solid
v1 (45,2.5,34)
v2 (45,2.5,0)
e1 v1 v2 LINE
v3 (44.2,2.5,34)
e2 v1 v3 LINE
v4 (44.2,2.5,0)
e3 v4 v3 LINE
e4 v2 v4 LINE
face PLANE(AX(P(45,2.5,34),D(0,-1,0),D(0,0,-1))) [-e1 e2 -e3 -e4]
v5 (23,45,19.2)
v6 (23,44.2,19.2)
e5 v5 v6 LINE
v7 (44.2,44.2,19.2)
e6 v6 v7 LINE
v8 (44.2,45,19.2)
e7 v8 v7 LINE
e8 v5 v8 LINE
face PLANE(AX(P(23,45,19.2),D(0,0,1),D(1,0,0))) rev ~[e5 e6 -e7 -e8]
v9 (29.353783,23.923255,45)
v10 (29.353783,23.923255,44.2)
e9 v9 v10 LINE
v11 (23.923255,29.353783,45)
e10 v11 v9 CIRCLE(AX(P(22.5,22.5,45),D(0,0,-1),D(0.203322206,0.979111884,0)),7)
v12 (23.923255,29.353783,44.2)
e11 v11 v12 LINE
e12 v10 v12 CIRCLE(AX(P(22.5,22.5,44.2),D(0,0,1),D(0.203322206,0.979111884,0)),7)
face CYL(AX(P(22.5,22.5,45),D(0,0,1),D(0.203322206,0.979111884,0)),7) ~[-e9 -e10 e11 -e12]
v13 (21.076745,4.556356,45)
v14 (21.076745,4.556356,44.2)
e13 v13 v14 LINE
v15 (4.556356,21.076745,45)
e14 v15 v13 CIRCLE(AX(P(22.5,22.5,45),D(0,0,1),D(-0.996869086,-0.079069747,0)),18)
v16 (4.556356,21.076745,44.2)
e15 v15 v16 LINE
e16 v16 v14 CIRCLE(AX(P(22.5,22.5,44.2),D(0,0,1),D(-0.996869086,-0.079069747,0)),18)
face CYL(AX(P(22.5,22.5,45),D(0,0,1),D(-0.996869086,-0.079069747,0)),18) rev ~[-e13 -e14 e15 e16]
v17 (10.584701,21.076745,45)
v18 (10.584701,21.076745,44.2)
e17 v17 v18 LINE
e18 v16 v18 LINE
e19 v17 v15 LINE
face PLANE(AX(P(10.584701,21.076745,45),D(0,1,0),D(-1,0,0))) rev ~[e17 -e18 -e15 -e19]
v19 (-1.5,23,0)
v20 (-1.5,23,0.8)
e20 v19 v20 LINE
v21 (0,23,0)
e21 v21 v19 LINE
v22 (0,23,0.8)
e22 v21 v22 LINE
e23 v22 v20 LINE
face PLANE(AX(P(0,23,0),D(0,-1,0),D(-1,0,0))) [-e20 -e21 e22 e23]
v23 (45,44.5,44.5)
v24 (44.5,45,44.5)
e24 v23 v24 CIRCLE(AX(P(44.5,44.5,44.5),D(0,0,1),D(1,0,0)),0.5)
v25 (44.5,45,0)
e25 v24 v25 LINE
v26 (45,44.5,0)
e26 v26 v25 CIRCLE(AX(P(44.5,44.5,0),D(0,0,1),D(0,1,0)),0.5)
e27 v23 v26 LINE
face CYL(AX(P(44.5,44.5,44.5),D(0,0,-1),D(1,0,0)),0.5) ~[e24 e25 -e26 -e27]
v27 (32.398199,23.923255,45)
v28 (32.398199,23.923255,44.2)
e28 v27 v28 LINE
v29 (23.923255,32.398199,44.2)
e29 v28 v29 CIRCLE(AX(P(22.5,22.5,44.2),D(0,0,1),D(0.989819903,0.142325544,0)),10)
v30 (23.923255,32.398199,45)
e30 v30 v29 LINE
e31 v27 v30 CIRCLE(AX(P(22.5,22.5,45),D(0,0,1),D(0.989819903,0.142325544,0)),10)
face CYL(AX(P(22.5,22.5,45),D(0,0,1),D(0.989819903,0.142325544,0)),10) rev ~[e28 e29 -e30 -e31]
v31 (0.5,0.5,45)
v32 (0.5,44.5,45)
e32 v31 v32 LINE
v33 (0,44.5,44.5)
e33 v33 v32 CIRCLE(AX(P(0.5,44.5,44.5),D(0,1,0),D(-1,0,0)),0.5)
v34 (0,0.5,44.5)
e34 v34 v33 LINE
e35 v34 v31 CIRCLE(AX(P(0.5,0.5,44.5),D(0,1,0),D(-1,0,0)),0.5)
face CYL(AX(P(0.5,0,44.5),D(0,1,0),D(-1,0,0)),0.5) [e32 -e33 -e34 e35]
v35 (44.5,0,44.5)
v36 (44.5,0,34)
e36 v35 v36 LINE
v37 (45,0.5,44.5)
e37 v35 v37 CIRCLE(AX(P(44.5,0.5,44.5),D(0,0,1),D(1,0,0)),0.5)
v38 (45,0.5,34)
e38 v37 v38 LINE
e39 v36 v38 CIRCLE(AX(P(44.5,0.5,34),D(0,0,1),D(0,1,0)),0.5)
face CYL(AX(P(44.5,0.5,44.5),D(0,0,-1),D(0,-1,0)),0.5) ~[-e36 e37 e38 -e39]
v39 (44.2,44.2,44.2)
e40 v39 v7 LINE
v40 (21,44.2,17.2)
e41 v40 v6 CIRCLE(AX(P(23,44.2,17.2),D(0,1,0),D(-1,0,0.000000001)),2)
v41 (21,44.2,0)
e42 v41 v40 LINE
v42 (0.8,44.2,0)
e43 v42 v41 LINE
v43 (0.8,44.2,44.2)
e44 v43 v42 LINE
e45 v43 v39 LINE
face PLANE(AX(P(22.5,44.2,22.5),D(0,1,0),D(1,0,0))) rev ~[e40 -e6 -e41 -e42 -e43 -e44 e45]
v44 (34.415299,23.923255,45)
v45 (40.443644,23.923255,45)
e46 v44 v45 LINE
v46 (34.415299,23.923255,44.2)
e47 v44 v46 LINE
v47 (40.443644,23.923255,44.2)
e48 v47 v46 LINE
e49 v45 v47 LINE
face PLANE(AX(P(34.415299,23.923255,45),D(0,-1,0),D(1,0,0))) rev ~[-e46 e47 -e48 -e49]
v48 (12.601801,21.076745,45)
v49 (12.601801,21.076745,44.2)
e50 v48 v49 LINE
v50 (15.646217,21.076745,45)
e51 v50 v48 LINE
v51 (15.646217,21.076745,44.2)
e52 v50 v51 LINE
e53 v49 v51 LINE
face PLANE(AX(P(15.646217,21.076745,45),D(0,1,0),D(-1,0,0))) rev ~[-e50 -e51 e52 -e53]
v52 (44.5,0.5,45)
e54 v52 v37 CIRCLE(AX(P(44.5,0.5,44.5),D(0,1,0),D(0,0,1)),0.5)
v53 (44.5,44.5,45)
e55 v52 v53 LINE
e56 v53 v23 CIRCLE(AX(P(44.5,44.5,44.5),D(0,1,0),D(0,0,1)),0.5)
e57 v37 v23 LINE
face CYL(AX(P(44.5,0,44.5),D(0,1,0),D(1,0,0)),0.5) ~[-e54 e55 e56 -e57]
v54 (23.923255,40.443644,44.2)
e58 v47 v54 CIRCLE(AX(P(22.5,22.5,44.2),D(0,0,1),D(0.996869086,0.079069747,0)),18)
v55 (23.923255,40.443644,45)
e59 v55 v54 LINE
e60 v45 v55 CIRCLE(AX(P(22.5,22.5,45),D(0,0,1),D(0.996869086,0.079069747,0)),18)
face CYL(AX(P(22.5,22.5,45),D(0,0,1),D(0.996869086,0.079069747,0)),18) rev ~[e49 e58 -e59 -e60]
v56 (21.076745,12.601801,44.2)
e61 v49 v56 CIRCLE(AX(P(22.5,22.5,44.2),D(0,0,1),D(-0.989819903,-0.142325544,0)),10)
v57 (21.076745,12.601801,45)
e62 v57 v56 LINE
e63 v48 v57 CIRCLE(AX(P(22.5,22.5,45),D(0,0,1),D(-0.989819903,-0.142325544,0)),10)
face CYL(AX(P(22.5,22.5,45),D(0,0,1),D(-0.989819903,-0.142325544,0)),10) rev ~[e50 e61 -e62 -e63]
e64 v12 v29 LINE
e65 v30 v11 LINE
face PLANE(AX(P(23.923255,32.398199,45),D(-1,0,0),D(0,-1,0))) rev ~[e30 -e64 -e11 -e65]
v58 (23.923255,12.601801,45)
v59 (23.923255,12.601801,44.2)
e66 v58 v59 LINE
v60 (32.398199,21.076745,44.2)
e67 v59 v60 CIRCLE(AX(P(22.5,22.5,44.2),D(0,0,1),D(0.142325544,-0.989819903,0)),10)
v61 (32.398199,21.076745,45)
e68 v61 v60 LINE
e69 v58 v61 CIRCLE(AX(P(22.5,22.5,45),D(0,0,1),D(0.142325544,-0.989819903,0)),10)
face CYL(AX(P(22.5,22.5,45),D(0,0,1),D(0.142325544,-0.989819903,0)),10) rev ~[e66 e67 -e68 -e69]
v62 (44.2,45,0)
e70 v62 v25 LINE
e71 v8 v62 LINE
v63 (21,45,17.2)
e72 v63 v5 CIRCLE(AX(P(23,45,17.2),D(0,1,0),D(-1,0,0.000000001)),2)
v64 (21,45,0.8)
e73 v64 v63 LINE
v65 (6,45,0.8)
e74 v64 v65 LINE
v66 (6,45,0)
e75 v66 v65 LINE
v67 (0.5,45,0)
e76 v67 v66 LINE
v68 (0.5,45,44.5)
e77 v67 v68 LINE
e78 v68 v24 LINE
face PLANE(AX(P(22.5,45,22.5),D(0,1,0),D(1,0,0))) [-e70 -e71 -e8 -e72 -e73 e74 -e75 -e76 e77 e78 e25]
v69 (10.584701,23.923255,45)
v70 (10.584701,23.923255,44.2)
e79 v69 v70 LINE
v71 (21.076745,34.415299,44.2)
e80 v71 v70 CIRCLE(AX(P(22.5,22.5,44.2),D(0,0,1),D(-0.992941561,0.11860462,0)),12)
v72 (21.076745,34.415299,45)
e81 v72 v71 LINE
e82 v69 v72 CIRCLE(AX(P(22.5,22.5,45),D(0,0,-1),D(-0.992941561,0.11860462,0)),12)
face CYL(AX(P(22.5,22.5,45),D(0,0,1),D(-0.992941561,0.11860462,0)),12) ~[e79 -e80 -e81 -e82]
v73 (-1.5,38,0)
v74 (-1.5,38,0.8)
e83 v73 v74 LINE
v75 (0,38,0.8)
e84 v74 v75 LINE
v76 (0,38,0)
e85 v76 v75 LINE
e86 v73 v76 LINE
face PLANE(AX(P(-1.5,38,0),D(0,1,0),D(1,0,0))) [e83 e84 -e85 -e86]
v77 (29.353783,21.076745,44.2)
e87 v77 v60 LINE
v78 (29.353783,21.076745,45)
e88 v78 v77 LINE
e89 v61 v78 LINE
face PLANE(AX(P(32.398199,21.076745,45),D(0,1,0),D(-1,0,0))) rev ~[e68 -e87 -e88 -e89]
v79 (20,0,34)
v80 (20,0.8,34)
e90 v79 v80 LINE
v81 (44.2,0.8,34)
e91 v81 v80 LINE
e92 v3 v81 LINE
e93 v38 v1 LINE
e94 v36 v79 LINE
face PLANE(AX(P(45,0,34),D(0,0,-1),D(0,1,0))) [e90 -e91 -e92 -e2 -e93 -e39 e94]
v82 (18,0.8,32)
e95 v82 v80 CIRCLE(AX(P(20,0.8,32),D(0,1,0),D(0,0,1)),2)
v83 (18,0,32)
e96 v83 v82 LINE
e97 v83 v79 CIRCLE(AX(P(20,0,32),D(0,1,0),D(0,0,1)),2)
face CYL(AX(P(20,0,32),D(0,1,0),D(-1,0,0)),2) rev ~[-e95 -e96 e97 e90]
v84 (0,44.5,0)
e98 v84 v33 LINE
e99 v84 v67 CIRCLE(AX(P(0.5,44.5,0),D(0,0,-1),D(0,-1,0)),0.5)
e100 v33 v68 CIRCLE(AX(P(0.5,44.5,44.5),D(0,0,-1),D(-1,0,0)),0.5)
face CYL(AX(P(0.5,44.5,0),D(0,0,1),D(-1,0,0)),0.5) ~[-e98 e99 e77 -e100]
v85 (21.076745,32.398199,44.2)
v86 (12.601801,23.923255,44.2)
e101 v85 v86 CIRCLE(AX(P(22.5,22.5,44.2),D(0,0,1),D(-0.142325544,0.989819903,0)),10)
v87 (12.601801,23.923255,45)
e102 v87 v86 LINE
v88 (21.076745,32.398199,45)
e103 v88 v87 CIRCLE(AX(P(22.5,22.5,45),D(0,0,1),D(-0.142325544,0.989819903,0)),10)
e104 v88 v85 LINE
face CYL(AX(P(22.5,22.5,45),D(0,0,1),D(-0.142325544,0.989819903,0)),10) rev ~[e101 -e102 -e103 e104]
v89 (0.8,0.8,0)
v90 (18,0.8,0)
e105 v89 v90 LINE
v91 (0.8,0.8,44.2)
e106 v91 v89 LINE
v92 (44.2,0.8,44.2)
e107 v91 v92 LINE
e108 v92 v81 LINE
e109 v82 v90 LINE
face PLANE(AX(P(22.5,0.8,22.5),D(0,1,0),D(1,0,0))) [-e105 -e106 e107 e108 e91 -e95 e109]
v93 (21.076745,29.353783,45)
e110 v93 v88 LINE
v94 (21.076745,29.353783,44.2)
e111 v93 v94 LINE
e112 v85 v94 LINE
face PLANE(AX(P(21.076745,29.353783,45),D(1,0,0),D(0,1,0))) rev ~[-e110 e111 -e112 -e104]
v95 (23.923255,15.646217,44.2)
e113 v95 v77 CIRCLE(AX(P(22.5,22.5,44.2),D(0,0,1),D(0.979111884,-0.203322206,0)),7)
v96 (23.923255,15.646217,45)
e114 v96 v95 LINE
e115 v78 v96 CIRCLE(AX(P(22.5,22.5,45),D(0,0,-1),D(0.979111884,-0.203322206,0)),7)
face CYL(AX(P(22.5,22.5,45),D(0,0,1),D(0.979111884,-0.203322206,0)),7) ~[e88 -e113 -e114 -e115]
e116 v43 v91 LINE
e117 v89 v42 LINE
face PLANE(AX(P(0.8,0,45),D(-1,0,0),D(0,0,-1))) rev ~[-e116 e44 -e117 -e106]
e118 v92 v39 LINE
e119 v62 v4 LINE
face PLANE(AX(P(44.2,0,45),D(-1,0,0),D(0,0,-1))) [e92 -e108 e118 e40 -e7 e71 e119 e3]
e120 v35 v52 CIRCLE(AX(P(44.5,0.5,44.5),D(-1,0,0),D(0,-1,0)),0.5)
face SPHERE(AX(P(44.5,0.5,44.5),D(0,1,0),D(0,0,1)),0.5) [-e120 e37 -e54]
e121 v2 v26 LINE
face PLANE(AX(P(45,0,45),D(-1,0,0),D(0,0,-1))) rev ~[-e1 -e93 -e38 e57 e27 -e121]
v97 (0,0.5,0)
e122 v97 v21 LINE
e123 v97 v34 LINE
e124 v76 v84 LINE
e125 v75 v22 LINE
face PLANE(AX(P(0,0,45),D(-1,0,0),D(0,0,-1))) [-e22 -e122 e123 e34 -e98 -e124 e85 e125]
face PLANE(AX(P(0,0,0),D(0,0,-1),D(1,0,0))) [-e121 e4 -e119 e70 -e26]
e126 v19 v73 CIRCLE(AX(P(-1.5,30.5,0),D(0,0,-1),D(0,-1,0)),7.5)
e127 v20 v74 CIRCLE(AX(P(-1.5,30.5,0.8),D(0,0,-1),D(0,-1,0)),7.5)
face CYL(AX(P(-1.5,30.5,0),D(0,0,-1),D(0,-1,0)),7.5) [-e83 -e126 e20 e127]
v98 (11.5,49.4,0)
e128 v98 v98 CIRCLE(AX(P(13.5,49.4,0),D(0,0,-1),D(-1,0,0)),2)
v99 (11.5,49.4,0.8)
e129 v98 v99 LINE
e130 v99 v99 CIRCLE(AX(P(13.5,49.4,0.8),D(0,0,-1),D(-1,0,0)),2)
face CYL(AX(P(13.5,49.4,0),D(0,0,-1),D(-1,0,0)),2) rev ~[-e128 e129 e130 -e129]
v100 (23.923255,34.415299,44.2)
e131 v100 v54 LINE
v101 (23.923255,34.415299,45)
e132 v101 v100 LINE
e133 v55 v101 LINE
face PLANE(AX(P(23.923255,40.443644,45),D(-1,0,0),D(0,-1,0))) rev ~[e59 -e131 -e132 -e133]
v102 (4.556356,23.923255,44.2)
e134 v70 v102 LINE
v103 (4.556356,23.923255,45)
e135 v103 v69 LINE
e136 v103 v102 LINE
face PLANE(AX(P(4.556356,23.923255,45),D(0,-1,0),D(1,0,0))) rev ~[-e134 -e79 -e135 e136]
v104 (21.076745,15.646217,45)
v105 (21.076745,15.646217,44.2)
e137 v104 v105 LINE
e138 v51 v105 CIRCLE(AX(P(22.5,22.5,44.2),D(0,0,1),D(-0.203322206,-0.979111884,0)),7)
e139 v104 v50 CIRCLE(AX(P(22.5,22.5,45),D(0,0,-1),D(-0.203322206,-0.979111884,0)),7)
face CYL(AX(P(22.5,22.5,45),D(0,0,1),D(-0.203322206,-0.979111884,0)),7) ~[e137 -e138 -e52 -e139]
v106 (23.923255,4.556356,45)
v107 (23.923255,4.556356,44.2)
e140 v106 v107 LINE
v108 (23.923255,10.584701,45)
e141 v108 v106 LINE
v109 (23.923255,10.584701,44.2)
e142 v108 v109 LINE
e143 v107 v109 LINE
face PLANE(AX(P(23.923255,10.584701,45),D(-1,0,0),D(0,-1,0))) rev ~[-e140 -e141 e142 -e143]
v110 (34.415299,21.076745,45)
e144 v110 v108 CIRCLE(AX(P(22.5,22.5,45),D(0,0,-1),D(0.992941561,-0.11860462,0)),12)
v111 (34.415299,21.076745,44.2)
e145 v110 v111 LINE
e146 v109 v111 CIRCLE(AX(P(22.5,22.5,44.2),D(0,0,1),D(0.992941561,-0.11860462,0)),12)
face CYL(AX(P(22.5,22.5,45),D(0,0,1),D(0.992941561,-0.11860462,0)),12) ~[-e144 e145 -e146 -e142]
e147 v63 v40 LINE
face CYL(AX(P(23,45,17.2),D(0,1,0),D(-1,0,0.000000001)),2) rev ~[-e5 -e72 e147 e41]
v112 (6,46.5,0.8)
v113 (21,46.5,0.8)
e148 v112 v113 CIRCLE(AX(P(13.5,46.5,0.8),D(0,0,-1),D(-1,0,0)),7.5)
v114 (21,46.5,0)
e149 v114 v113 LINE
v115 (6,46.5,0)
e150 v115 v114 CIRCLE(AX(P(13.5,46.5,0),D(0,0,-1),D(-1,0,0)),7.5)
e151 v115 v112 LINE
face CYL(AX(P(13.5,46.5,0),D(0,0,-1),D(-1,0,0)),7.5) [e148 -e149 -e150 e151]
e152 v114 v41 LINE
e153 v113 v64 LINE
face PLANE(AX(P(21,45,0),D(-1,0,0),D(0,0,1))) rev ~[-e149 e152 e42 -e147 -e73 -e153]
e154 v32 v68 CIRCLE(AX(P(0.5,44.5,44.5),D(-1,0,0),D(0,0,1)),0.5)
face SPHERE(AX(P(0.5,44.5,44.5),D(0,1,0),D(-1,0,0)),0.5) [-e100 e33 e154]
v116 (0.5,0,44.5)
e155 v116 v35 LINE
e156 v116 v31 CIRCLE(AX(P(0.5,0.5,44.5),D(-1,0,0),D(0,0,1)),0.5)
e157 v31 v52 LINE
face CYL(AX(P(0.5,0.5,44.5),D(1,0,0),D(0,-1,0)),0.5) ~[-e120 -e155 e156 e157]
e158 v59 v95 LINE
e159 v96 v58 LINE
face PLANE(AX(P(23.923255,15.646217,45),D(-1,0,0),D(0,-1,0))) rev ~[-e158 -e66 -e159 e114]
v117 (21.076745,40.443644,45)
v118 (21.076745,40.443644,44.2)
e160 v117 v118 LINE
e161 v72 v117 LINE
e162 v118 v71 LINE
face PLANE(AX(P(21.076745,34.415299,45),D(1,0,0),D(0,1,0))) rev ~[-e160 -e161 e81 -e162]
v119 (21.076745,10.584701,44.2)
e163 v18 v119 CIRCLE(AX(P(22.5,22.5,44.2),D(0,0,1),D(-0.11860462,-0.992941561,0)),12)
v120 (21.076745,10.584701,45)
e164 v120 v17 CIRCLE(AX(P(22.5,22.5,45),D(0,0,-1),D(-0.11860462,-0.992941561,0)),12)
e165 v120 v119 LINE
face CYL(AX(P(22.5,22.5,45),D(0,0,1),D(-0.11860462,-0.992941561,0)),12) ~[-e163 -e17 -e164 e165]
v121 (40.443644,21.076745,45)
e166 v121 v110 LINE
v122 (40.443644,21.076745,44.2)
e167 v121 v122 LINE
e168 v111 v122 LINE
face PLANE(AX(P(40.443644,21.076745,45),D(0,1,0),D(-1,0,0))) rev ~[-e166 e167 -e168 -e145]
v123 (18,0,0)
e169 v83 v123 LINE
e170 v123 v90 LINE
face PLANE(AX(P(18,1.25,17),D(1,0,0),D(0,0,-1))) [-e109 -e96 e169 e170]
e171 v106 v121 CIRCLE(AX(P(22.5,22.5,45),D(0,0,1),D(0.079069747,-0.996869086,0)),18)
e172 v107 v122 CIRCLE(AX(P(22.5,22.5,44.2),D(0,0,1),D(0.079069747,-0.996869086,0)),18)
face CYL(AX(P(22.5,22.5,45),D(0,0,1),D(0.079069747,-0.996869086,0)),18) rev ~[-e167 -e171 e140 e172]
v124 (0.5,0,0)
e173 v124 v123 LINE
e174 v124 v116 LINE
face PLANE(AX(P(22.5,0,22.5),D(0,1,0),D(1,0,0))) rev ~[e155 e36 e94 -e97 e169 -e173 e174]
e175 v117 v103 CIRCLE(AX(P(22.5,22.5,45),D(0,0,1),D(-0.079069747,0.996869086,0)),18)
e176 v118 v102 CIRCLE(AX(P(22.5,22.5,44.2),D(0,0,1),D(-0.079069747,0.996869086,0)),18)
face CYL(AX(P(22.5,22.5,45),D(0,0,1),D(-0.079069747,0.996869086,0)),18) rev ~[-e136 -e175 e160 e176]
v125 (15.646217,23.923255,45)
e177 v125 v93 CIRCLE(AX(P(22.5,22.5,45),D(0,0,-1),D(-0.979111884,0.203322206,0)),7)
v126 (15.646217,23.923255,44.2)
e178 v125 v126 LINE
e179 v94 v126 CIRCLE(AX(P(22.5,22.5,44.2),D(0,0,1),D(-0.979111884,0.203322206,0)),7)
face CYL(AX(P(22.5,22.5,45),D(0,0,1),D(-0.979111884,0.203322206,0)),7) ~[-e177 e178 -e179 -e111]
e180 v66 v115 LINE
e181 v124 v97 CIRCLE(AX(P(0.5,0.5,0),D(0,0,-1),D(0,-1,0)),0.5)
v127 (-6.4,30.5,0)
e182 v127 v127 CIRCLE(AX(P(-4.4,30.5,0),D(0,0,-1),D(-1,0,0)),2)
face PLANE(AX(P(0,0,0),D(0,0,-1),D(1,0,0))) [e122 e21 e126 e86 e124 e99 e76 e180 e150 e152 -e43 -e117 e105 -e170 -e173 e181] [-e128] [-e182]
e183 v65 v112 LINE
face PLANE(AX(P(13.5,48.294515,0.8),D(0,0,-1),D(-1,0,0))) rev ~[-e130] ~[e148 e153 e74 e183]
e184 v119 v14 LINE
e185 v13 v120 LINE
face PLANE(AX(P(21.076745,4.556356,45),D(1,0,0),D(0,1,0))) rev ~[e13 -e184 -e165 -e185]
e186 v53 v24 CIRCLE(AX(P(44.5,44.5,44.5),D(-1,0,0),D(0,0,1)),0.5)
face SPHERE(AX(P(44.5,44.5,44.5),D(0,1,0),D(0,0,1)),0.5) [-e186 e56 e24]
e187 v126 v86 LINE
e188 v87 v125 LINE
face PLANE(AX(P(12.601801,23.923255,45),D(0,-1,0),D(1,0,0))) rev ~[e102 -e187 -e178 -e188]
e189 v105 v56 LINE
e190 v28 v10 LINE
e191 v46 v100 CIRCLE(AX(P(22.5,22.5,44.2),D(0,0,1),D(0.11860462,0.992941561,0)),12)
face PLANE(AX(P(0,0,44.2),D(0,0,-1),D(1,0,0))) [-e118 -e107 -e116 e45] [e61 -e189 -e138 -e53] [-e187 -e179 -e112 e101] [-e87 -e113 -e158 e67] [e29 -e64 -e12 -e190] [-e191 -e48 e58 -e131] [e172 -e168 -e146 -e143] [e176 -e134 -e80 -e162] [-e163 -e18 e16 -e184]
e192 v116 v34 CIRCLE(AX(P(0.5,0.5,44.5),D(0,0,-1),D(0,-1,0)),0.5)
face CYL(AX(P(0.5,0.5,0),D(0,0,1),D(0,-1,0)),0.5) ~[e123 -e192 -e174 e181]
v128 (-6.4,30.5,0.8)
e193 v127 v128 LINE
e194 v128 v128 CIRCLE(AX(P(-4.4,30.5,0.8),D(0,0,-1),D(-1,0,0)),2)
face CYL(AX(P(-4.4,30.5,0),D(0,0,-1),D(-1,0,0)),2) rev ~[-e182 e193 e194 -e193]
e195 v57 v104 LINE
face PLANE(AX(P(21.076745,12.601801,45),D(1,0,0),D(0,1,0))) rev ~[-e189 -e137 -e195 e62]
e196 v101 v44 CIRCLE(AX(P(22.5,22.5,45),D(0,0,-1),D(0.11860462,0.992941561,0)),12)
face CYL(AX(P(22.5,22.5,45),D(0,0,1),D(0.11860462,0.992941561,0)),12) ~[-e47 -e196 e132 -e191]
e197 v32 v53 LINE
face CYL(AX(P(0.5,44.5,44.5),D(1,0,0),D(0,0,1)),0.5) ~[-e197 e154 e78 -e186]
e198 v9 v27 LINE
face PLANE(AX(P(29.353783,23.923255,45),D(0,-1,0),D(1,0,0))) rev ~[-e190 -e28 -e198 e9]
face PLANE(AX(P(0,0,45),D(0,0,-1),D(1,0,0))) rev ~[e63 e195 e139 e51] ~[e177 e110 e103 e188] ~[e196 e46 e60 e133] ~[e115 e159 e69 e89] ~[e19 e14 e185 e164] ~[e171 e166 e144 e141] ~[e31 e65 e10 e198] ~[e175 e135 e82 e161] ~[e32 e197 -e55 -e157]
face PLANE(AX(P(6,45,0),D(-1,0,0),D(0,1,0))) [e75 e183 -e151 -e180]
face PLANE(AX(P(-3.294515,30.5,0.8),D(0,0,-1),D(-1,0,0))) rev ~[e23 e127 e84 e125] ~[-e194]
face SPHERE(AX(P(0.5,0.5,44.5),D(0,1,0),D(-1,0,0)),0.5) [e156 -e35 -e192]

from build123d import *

# Parameters (mm, degrees)
SKETCH1_W           = 45
SKETCH1_H           = 45
BOSS_EXTRUDE1_DEPTH = 45
SHELL1_T            = -0.8
CUT_EXTRUDE1_DEPTH  = 45
SKETCH3_W           = 34
SKETCH3_H           = 2.5
CUT_EXTRUDE2_DEPTH  = 27
FILLET1_R           = 2
FILLET2_R           = 0.5
FILLET3_R           = 0.5
SKETCH4_R           = 2
BOSS_EXTRUDE2_DEPTH = 0.8
CUT_EXTRUDE4_DEPTH  = 0.8


with BuildPart() as part:
    # Sketch1 → Boss-Extrude1 (new body)
    with BuildSketch(Plane(origin=(0, 0, 0), x_dir=(1, 0, 0), z_dir=(0, 1, 0))):
        with Locations((22.5, -22.5)):
            Rectangle(SKETCH1_W, SKETCH1_H)
    extrude(amount=BOSS_EXTRUDE1_DEPTH)

    # Shell1
    shell1_openings = [part.faces().sort_by_distance(p)[0] for p in [
        (22.5, 22.5, 0),
    ]]
    offset(amount=SHELL1_T, openings=shell1_openings, kind=Kind.INTERSECTION)

    # Sketch2 → Cut-Extrude1 (cut)
    with BuildSketch(Plane.XY.offset(45)):
        with BuildLine():
            Line((21.076744556, 34.415298735), (21.076744556, 40.443643553))
            ThreePointArc((21.076744556, 40.443643553), (9.772077939, 35.227922061), (4.556356447, 23.923255444))
            Line((4.556356447, 23.923255444), (10.584701265, 23.923255444))
            ThreePointArc((10.584701265, 23.923255444), (14.014718626, 30.985281374), (21.076744556, 34.415298735))
        make_face()
        with BuildLine():
            ThreePointArc((40.443643553, 23.923255444), (35.227922061, 35.227922061), (23.923255444, 40.443643553))
            Line((23.923255444, 40.443643553), (23.923255444, 34.415298735))
            ThreePointArc((23.923255444, 34.415298735), (30.985281374, 30.985281374), (34.415298735, 23.923255444))
            Line((34.415298735, 23.923255444), (40.443643553, 23.923255444))
        make_face()
        with BuildLine():
            ThreePointArc((23.923255444, 4.556356447), (35.227922061, 9.772077939), (40.443643553, 21.076744556))
            Line((40.443643553, 21.076744556), (34.415298735, 21.076744556))
            ThreePointArc((34.415298735, 21.076744556), (30.985281374, 14.014718626), (23.923255444, 10.584701265))
            Line((23.923255444, 10.584701265), (23.923255444, 4.556356447))
        make_face()
        with BuildLine():
            Line((10.584701265, 21.076744556), (4.556356447, 21.076744556))
            ThreePointArc((4.556356447, 21.076744556), (9.772077939, 9.772077939), (21.076744556, 4.556356447))
            Line((21.076744556, 4.556356447), (21.076744556, 10.584701265))
            ThreePointArc((21.076744556, 10.584701265), (14.014718626, 14.014718626), (10.584701265, 21.076744556))
        make_face()
        with BuildLine():
            ThreePointArc((23.923255444, 12.601800975), (29.571067812, 15.428932188), (32.398199025, 21.076744556))
            Line((32.398199025, 21.076744556), (29.353783184, 21.076744556))
            ThreePointArc((29.353783184, 21.076744556), (27.449747468, 17.550252532), (23.923255444, 15.646216816))
            Line((23.923255444, 15.646216816), (23.923255444, 12.601800975))
        make_face()
        with BuildLine():
            ThreePointArc((32.398199025, 23.923255444), (29.571067812, 29.571067812), (23.923255444, 32.398199025))
            Line((23.923255444, 32.398199025), (23.923255444, 29.353783184))
            ThreePointArc((23.923255444, 29.353783184), (27.449747468, 27.449747468), (29.353783184, 23.923255444))
            Line((29.353783184, 23.923255444), (32.398199025, 23.923255444))
        make_face()
        with BuildLine():
            Line((21.076744556, 29.353783184), (21.076744556, 32.398199025))
            ThreePointArc((21.076744556, 32.398199025), (15.428932188, 29.571067812), (12.601800975, 23.923255444))
            Line((12.601800975, 23.923255444), (15.646216816, 23.923255444))
            ThreePointArc((15.646216816, 23.923255444), (17.550252532, 27.449747468), (21.076744556, 29.353783184))
        make_face()
        with BuildLine():
            Line((15.646216816, 21.076744556), (12.601800975, 21.076744556))
            ThreePointArc((12.601800975, 21.076744556), (15.428932188, 15.428932188), (21.076744556, 12.601800975))
            Line((21.076744556, 12.601800975), (21.076744556, 15.646216816))
            ThreePointArc((21.076744556, 15.646216816), (17.550252532, 17.550252532), (15.646216816, 21.076744556))
        make_face()
    extrude(amount=-CUT_EXTRUDE1_DEPTH, mode=Mode.SUBTRACT)

    # Sketch3 → Cut-Extrude2 (cut)
    with BuildSketch(Plane(origin=(45, 0, 0), x_dir=(0, 0, -1), z_dir=(1, 0, 0))):
        with Locations((-17, 1.25)):
            Rectangle(SKETCH3_W, SKETCH3_H)
    extrude(amount=-CUT_EXTRUDE2_DEPTH, mode=Mode.SUBTRACT)

    # Fillet1
    fillet1_edges = [part.edges().sort_by_distance(p)[0] for p in [
        (18, 0.4, 34),
    ]]
    fillet(fillet1_edges, radius=FILLET1_R)

    # Fillet2
    fillet2_edges = [part.edges().sort_by_distance(p)[0] for p in [
        (45, 22.5, 45),
        (0, 22.5, 45),
    ]]
    fillet(fillet2_edges, radius=FILLET2_R)

    # Fillet3
    fillet3_edges = [part.edges().sort_by_distance(p)[0] for p in [
        (22.5, 0, 45),
        (22.5, 45, 45),
        (45, 0, 39.25),
        (44.853553391, 0, 44.853553391),
        (0.146446609, 0, 44.853553391),
        (45, 45, 22.25),
        (44.853553391, 45, 44.853553391),
        (0.146446609, 45, 44.853553391),
        (0, 45, 22.25),
        (0, 0, 22.25),
    ]]
    fillet(fillet3_edges, radius=FILLET3_R)

    # Sketch4 → Boss-Extrude2 (add)
    # profile 1 of 2: a face of its own
    with BuildSketch(Plane(origin=(0, 0, 0), x_dir=(-1, 0, 0), z_dir=(0, 0, -1))):
        with BuildLine():
            Line((-21, 45), (-6, 45))
            Line((-6, 45), (-6, 46.5))
            ThreePointArc((-6, 46.5), (-13.5, 54), (-21, 46.5))
            Line((-21, 46.5), (-21, 45))
        make_face()
        with Locations((-13.5, 49.4)):
            Circle(SKETCH4_R, mode=Mode.SUBTRACT)
    # profile 2 of 2: a face of its own
    with BuildSketch(Plane(origin=(0, 0, 0), x_dir=(-1, 0, 0), z_dir=(0, 0, -1))):
        with BuildLine():
            Line((1.5, 38), (0, 38))
            Line((0, 38), (0, 23))
            Line((0, 23), (1.5, 23))
            ThreePointArc((1.5, 23), (9, 30.5), (1.5, 38))
        make_face()
        with Locations((4.4, 30.5)):
            Circle(SKETCH4_R, mode=Mode.SUBTRACT)
    extrude(amount=-BOSS_EXTRUDE2_DEPTH)

    # Sketch5 → Cut-Extrude4 (cut)
    with BuildSketch(Plane(origin=(0, 45, 0), x_dir=(1, 0, 0), z_dir=(0, 1, 0))):
        with BuildLine():
            Line((21, 0), (21, -17.2))
            ThreePointArc((21, -17.2), (21.585786438, -18.614213562), (23, -19.2))
            Line((23, -19.2), (44.2, -19.2))
            Line((44.2, -19.2), (44.2, 0))
            Line((44.2, 0), (21, 0))
        make_face()
    extrude(amount=-CUT_EXTRUDE4_DEPTH, mode=Mode.SUBTRACT)


solid = part.part
